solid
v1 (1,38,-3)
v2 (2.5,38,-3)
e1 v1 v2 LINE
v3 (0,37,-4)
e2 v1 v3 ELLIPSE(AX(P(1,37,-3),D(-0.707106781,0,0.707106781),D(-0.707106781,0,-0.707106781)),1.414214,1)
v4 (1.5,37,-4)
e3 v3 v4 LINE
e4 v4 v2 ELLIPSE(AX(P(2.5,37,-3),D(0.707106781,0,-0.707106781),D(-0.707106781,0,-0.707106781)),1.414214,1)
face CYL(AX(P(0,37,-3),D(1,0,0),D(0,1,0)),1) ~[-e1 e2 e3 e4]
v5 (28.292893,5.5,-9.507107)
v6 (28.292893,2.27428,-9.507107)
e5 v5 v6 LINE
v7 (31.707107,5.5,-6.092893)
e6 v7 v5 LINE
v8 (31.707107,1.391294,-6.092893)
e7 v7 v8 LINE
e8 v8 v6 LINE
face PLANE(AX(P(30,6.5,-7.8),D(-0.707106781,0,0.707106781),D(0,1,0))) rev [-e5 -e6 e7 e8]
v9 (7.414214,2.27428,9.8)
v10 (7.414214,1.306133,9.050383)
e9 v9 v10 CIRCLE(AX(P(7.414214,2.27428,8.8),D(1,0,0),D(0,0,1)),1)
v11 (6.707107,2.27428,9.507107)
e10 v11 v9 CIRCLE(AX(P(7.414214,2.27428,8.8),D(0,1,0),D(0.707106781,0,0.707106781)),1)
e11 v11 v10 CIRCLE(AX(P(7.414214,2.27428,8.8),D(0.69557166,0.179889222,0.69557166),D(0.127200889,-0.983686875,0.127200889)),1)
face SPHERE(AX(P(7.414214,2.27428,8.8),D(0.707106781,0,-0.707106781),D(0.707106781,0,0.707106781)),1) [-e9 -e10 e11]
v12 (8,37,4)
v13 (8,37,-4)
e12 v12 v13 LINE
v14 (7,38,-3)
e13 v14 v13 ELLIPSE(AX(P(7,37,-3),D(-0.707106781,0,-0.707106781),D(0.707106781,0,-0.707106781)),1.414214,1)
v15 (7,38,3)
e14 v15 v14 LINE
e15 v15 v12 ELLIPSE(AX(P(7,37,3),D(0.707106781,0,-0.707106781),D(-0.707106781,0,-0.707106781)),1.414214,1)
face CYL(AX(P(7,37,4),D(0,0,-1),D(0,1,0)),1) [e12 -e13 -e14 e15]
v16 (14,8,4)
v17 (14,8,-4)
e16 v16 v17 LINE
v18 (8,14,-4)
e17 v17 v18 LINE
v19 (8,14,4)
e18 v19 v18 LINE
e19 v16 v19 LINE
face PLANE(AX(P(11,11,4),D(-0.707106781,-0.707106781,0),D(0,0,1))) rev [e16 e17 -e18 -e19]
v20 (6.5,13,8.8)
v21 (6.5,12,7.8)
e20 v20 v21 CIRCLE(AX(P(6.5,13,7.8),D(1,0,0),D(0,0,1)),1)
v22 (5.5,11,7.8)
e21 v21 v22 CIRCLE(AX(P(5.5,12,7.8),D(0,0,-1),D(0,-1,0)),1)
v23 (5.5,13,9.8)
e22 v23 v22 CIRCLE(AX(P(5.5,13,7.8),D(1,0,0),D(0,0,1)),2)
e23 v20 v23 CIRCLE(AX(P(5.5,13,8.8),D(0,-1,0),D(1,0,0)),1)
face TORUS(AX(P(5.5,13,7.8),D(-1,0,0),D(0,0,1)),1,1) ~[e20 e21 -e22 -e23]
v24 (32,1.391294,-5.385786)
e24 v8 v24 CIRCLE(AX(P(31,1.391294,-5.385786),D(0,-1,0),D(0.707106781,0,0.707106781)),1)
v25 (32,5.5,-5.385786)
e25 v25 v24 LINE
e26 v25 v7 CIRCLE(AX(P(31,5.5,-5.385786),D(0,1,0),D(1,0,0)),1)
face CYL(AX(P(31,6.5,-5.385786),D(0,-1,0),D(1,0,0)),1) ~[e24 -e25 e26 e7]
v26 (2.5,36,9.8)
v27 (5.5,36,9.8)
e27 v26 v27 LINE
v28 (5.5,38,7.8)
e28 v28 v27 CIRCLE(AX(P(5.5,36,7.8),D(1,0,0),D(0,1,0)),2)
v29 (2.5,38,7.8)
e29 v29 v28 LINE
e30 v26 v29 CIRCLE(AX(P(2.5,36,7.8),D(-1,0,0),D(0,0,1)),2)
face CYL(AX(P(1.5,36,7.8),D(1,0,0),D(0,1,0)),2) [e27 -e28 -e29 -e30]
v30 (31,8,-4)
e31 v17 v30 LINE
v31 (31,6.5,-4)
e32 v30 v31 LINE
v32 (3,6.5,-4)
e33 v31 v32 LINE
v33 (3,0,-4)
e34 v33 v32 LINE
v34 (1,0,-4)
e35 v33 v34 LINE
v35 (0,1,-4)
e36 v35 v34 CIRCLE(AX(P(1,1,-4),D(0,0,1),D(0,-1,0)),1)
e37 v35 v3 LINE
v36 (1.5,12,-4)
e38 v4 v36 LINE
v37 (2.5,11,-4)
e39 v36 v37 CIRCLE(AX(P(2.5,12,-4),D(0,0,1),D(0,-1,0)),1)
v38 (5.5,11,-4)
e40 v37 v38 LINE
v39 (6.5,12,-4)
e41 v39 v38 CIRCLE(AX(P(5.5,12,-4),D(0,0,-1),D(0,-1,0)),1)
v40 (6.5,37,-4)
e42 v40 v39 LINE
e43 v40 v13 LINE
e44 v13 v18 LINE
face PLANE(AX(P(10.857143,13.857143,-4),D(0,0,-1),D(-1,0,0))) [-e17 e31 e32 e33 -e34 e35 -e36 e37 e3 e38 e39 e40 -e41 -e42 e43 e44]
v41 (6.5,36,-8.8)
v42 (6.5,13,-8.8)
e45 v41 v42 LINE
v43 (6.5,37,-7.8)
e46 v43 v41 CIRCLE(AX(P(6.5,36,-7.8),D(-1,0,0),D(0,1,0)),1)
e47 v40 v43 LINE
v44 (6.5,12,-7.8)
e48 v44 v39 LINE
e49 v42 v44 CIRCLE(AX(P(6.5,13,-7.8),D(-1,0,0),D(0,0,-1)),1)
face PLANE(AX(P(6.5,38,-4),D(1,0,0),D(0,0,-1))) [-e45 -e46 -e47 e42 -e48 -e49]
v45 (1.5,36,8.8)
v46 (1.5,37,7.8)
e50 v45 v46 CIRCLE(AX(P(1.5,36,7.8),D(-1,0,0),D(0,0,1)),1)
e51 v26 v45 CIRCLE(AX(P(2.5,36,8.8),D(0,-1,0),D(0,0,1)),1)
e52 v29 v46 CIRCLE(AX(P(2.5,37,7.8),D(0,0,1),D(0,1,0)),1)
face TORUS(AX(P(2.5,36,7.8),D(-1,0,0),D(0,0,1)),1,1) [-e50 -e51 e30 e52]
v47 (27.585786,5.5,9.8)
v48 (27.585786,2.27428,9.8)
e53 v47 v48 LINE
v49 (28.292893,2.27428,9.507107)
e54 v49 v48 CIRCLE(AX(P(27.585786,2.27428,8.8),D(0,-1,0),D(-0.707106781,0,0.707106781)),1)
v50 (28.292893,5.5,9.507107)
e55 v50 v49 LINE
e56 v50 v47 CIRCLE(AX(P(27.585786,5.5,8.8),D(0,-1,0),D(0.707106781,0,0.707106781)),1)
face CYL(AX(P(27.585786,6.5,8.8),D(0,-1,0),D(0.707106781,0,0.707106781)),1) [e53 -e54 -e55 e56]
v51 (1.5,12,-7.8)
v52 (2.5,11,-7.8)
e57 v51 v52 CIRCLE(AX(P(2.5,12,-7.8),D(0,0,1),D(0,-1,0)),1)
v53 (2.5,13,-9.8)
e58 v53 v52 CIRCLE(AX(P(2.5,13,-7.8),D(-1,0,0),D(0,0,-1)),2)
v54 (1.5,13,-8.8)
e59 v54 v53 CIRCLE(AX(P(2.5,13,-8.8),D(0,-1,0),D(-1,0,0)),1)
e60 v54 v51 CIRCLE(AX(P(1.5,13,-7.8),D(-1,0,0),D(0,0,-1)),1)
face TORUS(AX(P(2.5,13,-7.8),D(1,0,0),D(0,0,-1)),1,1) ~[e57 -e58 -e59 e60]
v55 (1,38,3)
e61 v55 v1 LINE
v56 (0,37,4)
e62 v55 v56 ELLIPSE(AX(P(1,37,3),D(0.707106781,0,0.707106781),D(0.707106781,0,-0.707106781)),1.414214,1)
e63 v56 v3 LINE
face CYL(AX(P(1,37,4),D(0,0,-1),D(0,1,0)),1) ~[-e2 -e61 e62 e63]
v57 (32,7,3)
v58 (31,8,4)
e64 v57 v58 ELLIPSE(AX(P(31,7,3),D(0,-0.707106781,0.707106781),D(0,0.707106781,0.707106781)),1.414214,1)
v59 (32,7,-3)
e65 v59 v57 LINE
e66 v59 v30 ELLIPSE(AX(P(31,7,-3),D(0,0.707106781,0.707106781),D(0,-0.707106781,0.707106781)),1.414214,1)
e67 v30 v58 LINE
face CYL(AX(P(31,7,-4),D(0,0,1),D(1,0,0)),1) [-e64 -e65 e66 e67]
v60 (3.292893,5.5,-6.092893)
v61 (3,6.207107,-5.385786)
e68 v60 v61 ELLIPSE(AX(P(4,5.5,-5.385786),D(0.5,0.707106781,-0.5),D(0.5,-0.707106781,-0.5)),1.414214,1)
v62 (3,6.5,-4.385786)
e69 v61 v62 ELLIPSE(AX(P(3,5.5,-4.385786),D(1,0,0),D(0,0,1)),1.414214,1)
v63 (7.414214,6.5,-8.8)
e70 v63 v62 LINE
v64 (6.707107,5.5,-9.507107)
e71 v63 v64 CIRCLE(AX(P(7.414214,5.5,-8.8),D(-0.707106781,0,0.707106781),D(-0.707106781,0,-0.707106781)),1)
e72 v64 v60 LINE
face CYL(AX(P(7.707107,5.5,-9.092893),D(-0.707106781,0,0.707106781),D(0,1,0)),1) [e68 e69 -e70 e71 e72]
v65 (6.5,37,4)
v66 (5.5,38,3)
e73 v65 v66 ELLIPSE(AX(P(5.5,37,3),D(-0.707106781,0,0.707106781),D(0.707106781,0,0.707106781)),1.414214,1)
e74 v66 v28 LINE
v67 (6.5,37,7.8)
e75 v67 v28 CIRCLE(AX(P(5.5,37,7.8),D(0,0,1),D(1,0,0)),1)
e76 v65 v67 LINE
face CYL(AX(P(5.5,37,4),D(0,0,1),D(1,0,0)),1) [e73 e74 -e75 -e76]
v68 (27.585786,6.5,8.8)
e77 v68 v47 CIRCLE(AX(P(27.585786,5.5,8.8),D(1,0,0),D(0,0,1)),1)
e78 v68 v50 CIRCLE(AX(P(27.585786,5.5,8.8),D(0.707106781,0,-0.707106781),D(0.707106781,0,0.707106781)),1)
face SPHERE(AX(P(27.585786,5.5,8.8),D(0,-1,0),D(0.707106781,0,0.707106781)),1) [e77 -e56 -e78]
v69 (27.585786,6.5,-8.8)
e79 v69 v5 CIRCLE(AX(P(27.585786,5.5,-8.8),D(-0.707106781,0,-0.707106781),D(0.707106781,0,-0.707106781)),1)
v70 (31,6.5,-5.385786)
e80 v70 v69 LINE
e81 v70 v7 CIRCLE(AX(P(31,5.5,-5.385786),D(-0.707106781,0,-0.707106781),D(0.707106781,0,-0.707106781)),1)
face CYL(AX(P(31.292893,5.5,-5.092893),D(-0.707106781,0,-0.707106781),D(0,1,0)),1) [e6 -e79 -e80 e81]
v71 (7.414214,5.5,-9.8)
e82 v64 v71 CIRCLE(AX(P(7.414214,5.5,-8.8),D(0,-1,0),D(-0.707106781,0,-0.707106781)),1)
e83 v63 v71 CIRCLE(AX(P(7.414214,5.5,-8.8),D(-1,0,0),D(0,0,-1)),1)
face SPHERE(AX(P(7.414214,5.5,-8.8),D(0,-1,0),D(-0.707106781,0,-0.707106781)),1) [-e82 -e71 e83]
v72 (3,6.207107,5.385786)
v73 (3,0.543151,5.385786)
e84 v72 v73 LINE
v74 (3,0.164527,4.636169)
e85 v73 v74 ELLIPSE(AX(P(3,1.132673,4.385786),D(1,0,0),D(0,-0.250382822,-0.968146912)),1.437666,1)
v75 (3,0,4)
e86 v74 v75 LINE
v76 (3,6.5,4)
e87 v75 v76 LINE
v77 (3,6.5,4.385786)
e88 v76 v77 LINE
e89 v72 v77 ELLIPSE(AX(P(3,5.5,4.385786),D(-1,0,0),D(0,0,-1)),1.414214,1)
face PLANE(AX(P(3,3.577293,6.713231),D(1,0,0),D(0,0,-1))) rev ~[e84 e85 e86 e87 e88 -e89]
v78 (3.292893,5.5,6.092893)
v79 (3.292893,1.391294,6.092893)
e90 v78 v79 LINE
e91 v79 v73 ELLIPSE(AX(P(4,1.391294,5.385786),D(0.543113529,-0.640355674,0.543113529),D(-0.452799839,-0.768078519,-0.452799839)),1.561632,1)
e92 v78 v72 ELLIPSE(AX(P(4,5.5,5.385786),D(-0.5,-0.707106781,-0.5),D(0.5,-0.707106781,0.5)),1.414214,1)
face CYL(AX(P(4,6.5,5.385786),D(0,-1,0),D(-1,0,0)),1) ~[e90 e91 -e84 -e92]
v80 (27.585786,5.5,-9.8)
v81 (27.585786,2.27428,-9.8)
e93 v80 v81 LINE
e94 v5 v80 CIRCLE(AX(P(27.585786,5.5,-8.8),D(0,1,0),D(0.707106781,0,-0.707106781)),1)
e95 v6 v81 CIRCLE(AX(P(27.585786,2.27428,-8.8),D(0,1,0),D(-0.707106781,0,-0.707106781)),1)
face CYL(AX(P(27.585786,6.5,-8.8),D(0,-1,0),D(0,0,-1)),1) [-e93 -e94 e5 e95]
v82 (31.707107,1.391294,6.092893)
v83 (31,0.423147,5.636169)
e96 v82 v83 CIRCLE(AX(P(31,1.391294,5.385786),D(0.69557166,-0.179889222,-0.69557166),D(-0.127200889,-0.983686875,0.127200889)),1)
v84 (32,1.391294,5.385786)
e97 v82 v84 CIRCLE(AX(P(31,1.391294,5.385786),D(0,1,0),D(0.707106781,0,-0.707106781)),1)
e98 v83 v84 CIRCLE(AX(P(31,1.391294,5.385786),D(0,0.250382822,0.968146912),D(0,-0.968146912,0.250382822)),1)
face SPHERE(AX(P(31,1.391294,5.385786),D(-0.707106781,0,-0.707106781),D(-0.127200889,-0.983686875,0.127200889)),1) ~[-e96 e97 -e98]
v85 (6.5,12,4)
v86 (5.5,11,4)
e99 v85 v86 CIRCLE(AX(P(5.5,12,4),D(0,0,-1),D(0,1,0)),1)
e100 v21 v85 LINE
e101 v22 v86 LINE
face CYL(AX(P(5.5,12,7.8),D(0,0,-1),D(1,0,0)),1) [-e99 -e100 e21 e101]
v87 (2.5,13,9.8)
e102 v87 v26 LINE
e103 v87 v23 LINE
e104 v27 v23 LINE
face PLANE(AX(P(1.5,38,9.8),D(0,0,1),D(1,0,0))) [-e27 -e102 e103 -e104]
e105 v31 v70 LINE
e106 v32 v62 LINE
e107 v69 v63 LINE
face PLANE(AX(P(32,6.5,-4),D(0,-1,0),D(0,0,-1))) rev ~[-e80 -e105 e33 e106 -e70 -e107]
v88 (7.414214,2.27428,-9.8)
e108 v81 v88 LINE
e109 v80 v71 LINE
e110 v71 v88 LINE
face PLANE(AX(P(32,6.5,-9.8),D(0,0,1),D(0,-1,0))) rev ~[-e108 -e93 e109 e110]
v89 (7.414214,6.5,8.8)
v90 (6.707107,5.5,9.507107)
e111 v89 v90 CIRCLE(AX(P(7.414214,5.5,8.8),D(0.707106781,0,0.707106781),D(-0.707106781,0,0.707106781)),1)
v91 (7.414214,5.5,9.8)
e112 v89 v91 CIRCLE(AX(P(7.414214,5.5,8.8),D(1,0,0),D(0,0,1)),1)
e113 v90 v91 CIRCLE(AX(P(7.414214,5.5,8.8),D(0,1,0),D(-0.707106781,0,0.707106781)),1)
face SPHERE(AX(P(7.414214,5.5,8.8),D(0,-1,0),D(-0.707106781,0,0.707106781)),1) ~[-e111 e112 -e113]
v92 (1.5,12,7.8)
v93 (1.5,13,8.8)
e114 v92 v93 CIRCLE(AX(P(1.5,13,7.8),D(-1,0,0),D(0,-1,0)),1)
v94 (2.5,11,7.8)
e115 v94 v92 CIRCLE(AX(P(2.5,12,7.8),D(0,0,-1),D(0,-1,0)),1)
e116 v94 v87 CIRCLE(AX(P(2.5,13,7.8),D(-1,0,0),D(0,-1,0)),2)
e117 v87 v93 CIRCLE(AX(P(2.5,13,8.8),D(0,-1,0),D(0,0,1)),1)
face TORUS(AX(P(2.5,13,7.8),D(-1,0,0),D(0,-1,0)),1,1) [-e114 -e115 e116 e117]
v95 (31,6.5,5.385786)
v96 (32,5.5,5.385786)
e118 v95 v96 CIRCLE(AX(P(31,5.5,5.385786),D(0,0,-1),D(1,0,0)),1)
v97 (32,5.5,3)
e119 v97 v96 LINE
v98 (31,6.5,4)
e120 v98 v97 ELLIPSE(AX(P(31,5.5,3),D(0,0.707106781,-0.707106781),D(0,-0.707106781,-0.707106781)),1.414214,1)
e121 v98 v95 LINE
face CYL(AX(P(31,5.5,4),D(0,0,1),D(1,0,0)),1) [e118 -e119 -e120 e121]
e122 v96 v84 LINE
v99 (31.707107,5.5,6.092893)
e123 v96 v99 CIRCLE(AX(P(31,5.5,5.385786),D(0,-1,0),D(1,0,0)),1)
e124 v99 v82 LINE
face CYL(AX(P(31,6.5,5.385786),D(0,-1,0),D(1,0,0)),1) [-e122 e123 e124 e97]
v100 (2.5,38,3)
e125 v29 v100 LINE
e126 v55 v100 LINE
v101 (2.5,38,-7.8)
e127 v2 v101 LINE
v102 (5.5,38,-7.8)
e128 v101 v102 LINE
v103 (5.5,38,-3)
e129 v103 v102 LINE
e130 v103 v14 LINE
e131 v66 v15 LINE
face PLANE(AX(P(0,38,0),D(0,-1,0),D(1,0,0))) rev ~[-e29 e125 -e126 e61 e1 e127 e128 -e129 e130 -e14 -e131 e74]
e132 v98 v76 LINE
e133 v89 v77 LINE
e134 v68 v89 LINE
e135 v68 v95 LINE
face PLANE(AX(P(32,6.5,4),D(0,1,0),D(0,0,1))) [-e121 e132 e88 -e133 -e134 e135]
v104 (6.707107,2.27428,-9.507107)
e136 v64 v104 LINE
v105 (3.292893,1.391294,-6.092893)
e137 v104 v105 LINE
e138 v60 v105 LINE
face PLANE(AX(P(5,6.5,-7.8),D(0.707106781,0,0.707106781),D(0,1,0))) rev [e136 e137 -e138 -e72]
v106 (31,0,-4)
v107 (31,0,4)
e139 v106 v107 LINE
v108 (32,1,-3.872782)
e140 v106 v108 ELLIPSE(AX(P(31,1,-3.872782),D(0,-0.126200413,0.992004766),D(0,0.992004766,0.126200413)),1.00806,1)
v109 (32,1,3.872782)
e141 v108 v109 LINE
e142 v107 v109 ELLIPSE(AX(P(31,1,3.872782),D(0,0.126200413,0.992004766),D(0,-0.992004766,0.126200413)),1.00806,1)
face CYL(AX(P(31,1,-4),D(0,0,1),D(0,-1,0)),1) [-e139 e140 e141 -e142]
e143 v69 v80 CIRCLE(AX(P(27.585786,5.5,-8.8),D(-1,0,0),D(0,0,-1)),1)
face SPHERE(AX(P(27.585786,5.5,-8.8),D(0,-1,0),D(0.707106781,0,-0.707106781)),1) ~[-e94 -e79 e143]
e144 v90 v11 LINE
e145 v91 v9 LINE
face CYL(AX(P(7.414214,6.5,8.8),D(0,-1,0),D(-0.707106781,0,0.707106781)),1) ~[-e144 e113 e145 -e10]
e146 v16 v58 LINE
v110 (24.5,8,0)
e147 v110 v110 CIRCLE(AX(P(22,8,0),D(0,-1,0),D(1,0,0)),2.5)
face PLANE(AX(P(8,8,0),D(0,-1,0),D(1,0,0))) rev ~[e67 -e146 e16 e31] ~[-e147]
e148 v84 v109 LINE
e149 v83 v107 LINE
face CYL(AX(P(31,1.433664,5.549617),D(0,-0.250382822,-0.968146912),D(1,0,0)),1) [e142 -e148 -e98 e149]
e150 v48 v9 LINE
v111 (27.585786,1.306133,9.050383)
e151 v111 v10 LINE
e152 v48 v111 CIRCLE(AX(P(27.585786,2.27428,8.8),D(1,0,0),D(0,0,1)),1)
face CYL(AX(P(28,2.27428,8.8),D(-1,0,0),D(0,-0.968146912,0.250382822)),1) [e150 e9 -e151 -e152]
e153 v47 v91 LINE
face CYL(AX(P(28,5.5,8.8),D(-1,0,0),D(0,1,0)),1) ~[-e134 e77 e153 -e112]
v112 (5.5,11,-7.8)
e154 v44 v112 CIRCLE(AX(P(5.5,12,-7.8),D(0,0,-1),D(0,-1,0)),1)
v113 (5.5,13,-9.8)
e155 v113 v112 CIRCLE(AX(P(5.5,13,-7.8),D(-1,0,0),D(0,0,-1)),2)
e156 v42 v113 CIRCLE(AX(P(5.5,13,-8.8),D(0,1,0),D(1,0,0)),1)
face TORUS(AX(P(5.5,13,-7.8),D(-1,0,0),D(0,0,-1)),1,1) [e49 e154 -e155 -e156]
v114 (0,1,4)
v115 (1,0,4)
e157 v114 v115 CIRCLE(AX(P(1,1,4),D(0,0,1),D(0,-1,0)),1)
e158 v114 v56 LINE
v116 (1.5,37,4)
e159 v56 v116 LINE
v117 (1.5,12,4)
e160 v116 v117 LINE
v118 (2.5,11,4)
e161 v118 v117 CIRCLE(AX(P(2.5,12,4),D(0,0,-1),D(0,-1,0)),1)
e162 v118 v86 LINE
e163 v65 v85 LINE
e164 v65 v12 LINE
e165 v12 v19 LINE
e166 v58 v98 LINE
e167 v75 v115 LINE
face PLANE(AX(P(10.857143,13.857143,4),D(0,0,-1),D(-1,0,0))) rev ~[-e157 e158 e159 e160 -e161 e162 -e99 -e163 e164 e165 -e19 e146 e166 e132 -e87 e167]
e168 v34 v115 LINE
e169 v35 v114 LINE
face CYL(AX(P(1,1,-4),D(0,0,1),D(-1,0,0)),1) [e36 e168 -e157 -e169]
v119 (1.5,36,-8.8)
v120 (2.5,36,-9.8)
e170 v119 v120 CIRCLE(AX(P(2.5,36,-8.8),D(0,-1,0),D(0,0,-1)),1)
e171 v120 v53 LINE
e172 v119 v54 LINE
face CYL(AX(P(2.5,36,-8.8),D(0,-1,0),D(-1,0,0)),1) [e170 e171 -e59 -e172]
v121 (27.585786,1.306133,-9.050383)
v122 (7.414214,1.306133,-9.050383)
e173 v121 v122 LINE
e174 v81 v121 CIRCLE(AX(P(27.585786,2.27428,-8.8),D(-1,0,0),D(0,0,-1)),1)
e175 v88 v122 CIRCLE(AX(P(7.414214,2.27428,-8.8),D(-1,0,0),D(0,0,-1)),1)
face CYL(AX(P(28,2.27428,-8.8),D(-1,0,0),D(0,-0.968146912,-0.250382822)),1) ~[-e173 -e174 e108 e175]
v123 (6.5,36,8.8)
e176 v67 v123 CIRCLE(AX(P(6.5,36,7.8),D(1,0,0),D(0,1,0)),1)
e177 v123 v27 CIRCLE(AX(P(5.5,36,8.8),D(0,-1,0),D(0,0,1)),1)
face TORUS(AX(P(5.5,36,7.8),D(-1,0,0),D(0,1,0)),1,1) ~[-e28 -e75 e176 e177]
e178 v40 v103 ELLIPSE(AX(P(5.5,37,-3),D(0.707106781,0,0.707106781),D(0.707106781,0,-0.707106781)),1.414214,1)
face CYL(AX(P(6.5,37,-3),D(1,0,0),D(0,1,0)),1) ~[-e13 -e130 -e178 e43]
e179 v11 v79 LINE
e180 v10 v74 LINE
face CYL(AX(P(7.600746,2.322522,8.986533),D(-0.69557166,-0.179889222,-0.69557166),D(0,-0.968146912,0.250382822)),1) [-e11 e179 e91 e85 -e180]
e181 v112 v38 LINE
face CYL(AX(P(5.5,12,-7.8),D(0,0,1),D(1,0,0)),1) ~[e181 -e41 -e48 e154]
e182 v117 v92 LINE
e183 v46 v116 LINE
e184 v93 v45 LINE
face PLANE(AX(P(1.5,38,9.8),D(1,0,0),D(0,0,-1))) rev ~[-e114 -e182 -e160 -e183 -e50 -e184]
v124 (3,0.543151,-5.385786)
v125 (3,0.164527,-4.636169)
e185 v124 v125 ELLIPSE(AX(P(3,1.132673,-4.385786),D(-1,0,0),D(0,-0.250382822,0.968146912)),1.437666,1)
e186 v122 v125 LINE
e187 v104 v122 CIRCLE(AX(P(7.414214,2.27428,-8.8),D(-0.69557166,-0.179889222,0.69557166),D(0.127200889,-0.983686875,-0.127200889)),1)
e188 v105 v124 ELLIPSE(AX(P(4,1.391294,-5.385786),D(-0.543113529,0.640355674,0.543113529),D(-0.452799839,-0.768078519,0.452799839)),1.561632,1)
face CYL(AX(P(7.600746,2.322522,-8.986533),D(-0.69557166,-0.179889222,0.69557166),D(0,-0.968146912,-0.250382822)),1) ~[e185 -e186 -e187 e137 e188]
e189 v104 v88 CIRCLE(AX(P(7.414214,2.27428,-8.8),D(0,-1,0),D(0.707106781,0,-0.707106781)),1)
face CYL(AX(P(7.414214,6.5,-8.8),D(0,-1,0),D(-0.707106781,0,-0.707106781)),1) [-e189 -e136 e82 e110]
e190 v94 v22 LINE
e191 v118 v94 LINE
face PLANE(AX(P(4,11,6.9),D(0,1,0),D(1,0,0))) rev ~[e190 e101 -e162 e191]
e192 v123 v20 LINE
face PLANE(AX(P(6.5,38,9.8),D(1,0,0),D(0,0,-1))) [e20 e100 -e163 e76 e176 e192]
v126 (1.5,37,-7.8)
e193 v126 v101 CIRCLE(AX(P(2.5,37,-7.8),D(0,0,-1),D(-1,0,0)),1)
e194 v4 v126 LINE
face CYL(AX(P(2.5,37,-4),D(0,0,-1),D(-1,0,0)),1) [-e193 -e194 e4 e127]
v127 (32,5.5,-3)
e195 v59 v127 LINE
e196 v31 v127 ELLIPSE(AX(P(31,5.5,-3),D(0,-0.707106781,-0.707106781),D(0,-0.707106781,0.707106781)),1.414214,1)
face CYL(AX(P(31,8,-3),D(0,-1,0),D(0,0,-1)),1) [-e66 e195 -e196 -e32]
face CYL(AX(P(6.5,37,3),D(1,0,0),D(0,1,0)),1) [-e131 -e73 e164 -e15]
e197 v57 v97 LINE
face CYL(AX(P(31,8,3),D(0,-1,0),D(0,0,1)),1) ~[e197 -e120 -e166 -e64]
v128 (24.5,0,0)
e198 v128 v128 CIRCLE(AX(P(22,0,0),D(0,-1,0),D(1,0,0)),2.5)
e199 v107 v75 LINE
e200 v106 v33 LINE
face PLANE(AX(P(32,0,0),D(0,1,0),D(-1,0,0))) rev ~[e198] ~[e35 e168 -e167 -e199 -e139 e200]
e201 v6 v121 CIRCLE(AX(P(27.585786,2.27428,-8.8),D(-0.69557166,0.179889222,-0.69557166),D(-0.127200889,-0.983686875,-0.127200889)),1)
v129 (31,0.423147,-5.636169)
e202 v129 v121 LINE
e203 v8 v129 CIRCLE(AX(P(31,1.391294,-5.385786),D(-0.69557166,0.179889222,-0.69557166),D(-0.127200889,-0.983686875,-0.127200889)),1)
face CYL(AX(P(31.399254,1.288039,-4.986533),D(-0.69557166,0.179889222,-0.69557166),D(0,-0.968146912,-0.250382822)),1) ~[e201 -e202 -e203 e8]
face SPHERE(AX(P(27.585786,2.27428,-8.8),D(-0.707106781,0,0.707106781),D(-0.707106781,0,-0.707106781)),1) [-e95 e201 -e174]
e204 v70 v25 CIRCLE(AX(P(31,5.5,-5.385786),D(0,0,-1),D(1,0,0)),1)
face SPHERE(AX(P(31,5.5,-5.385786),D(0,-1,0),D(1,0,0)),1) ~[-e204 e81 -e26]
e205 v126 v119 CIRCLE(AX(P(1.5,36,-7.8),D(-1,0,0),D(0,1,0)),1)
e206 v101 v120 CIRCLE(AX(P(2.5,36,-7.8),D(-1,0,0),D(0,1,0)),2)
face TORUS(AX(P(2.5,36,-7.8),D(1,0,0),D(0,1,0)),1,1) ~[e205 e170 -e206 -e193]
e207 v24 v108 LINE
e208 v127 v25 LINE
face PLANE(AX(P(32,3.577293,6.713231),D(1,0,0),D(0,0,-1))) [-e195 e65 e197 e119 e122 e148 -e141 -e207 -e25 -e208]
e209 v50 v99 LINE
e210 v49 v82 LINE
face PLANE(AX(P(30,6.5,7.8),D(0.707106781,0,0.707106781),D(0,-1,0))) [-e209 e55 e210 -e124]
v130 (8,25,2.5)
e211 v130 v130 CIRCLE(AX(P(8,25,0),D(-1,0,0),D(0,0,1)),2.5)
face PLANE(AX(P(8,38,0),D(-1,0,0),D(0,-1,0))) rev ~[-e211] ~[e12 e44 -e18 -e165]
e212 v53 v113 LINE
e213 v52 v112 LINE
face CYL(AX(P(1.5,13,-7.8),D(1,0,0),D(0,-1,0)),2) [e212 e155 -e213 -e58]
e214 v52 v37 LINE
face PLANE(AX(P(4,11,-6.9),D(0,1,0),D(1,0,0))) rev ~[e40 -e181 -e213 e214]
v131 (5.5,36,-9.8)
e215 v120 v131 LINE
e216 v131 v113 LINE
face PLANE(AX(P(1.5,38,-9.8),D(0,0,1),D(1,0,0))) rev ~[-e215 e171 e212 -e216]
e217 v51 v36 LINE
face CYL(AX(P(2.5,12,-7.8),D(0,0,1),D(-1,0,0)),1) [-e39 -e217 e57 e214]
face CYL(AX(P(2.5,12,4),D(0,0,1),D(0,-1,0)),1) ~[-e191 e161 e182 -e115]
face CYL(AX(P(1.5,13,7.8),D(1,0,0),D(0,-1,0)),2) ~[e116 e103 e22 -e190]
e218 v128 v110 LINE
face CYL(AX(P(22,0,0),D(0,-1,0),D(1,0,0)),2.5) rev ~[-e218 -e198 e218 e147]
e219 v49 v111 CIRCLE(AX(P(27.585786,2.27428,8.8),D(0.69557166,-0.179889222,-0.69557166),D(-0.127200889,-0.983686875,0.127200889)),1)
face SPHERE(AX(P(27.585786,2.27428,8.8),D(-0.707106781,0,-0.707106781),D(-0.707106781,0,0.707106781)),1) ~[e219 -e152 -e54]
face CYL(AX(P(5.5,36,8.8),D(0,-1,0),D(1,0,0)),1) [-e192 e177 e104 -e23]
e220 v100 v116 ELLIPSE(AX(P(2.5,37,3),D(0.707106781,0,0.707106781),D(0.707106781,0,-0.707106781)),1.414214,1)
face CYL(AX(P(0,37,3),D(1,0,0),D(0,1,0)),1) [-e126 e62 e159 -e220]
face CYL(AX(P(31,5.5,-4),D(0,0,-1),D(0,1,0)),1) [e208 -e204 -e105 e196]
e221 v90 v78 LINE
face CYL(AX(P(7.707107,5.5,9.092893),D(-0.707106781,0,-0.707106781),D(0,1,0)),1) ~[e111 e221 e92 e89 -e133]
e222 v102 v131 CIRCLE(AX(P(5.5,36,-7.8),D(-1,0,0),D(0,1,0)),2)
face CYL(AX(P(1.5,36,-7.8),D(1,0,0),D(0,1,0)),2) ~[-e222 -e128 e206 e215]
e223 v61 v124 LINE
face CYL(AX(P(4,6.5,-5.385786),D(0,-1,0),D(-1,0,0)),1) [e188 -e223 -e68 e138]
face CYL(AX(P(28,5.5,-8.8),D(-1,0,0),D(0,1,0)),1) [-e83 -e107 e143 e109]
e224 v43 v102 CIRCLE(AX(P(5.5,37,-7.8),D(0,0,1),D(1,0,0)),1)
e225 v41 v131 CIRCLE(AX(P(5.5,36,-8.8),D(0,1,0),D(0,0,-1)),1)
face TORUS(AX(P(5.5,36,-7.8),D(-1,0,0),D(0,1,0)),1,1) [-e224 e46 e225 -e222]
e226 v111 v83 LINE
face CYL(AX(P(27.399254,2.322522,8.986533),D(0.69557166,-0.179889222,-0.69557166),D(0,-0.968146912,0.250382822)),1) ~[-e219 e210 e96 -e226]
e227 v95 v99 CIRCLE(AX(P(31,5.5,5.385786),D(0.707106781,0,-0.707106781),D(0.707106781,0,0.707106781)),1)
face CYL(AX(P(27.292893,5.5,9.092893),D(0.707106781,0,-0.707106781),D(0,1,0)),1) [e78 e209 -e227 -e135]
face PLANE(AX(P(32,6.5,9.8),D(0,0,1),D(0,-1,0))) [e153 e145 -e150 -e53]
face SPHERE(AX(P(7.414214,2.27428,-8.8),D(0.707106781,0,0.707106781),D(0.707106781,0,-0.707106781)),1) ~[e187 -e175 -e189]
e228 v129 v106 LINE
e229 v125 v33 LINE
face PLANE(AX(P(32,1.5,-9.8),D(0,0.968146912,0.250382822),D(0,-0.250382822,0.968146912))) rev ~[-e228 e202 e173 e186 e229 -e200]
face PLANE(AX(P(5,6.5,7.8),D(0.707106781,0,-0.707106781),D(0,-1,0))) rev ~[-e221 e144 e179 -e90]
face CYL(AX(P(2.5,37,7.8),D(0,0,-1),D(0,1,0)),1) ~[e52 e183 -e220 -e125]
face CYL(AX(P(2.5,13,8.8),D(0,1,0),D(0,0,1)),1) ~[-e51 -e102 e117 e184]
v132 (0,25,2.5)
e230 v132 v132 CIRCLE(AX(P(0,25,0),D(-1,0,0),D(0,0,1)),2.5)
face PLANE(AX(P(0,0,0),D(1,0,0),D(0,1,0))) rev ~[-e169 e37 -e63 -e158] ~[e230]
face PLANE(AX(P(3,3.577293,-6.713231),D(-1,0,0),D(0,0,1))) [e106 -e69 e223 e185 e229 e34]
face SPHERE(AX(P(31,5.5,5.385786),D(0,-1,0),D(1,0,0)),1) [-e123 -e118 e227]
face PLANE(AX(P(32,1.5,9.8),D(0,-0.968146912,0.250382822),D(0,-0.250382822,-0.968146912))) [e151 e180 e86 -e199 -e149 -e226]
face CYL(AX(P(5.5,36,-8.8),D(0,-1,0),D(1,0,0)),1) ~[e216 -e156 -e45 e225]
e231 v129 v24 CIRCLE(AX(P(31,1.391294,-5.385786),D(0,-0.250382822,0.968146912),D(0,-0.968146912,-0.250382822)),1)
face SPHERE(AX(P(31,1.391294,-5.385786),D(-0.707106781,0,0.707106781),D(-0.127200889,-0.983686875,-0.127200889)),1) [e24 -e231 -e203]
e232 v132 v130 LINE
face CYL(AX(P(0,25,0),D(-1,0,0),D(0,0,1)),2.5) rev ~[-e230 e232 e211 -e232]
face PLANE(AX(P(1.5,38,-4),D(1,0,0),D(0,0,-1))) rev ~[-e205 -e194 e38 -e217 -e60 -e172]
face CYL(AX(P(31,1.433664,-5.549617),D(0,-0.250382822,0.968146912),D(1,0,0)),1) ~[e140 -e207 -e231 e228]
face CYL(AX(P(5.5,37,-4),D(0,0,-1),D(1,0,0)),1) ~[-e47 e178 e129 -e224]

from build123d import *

# Parameters (mm, degrees)
BOSS_EXTRUDE1_DEPTH = 4
BOSS_EXTRUDE2_DEPTH = 29
CHAMFER1_SIZE       = 4
CHAMFER2_SIZE       = 6
CUT_EXTRUDE1_REACH  = 40
SKETCH3_R           = 2.5
CUT_EXTRUDE2_REACH  = 34
SKETCH4_R           = 2.5
SKETCH5_W           = 5
SKETCH5_H           = 5.8
BOSS_EXTRUDE3_DEPTH = 27
FILLET1_R           = 2
FILLET2_R           = 1


with BuildPart() as part:
    # Sketch1 → Boss-Extrude1 (new body, symmetric)
    with BuildSketch(Plane.XY):
        Polygon((0, 0), (0, 38), (8, 38), (8, 8), (32, 8), (32, 0), align=None)
    extrude(amount=BOSS_EXTRUDE1_DEPTH, both=True)

    # Sketch2 → Boss-Extrude2 (add)
    with BuildSketch(Plane(origin=(32, 0, 0), x_dir=(0, 0, -1), z_dir=(1, 0, 0))):
        Polygon((-4, 6.5), (-9.8, 6.5), (-9.8, 1.5), (-4, 0), align=None)
        Polygon((4, 0), (4, 6.5), (9.8, 6.5), (9.8, 1.5), align=None)
    extrude(amount=-BOSS_EXTRUDE2_DEPTH)

    # Chamfer1
    chamfer1_edges = [part.edges().sort_by_distance(p)[0] for p in [
        (3, 4, 9.8),
        (32, 4, 9.8),
        (3, 4, -9.8),
        (32, 4, -9.8),
    ]]
    chamfer(chamfer1_edges, length=CHAMFER1_SIZE)

    # Chamfer2
    chamfer2_edges = [part.edges().sort_by_distance(p)[0] for p in [
        (8, 8, 0),
    ]]
    chamfer(chamfer2_edges, length=CHAMFER2_SIZE)

    # Sketch3 → Cut-Extrude1 (cut, up to next)
    with BuildSketch(Plane.XZ, mode=Mode.PRIVATE) as cut_extrude1_sk1:
        with Locations((22, 0)):
            Circle(SKETCH3_R)
    cut_extrude1_tool1 = extrude(cut_extrude1_sk1.sketch, amount=-CUT_EXTRUDE1_REACH, mode=Mode.PRIVATE) & part.part
    add(cut_extrude1_tool1.solids().sort_by_distance((22, 0, 0))[0], mode=Mode.SUBTRACT)

    # Sketch4 → Cut-Extrude2 (cut, up to next)
    with BuildSketch(Plane.ZY, mode=Mode.PRIVATE) as cut_extrude2_sk1:
        with Locations((0, 25)):
            Circle(SKETCH4_R)
    cut_extrude2_tool1 = extrude(cut_extrude2_sk1.sketch, amount=-CUT_EXTRUDE2_REACH, mode=Mode.PRIVATE) & part.part
    add(cut_extrude2_tool1.solids().sort_by_distance((0, 25, 0))[0], mode=Mode.SUBTRACT)

    # Sketch5 → Boss-Extrude3 (add)
    with BuildSketch(Plane(origin=(0, 38, 0), x_dir=(1, 0, 0), z_dir=(0, 1, 0))):
        with Locations((4, 6.9)):
            Rectangle(SKETCH5_W, SKETCH5_H)
        with Locations((4, -6.9)):
            Rectangle(SKETCH5_W, SKETCH5_H)
    extrude(amount=-BOSS_EXTRUDE3_DEPTH)

    # Fillet1
    fillet1_edges = [part.edges().sort_by_distance(p)[0] for p in [
        (4, 38, 9.8),
        (4, 11, -9.8),
        (4, 38, -9.8),
        (4, 11, 9.8),
    ]]
    fillet(fillet1_edges, radius=FILLET1_R)

    # Fillet2
    fillet2_edges = [part.edges().sort_by_distance(p)[0] for p in [
        (1.5, 38, 5.9),
        (6.5, 24.5, -9.8),
        (0, 0, 0),
        (1.5, 24.5, -9.8),
        (0, 38, 0),
        (1.5, 38, -5.9),
        (8, 38, 0),
        (1.5, 11, -5.9),
        (1.5, 37.414213562, -9.214213562),
        (1.5, 11.585786438, -9.214213562),
        (32, 8, 0),
        (6.5, 37.414213562, -9.214213562),
        (6.5, 11.585786438, -9.214213562),
        (32, 0, 0),
        (1.5, 24.5, 9.8),
        (6.5, 24.5, 9.8),
        (6.5, 38, 5.9),
        (6.5, 11, 5.9),
        (6.5, 37.414213562, 9.214213562),
        (6.5, 11.585786438, 9.214213562),
        (1.5, 37.414213562, 9.214213562),
        (1.5, 11.585786438, 9.214213562),
        (32, 7.25, 4),
        (7.25, 38, 4),
        (32, 6.5, 4.9),
        (32, 7.25, -4),
        (32, 0.232758621, -4.9),
        (17.5, 1.5, -9.8),
        (17.5, 6.5, -9.8),
        (28, 4, -9.8),
        (7, 4, -9.8),
        (32, 6.5, -4.9),
        (30, 6.5, -7.8),
        (5, 6.5, -7.8),
        (3, 3.482758621, -5.8),
        (30, 0.982758621, -7.8),
        (5, 0.982758621, -7.8),
        (17.5, 6.5, 9.8),
        (17.5, 1.5, 9.8),
        (28, 4, 9.8),
        (7, 4, 9.8),
        (32, 0.232758621, 4.9),
        (30, 0.982758621, 7.8),
        (5, 0.982758621, 7.8),
        (3, 3.482758621, 5.8),
        (30, 6.5, 7.8),
        (5, 6.5, 7.8),
        (32, 3.482758621, 5.8),
        (32, 3.482758621, -5.8),
        (7.25, 38, -4),
        (0.75, 38, -4),
        (6.5, 11, -5.9),
        (6.5, 38, -5.9),
        (0.75, 38, 4),
        (1.5, 11, 5.9),
    ]]
    fillet(fillet2_edges, radius=FILLET2_R)


solid = part.part
